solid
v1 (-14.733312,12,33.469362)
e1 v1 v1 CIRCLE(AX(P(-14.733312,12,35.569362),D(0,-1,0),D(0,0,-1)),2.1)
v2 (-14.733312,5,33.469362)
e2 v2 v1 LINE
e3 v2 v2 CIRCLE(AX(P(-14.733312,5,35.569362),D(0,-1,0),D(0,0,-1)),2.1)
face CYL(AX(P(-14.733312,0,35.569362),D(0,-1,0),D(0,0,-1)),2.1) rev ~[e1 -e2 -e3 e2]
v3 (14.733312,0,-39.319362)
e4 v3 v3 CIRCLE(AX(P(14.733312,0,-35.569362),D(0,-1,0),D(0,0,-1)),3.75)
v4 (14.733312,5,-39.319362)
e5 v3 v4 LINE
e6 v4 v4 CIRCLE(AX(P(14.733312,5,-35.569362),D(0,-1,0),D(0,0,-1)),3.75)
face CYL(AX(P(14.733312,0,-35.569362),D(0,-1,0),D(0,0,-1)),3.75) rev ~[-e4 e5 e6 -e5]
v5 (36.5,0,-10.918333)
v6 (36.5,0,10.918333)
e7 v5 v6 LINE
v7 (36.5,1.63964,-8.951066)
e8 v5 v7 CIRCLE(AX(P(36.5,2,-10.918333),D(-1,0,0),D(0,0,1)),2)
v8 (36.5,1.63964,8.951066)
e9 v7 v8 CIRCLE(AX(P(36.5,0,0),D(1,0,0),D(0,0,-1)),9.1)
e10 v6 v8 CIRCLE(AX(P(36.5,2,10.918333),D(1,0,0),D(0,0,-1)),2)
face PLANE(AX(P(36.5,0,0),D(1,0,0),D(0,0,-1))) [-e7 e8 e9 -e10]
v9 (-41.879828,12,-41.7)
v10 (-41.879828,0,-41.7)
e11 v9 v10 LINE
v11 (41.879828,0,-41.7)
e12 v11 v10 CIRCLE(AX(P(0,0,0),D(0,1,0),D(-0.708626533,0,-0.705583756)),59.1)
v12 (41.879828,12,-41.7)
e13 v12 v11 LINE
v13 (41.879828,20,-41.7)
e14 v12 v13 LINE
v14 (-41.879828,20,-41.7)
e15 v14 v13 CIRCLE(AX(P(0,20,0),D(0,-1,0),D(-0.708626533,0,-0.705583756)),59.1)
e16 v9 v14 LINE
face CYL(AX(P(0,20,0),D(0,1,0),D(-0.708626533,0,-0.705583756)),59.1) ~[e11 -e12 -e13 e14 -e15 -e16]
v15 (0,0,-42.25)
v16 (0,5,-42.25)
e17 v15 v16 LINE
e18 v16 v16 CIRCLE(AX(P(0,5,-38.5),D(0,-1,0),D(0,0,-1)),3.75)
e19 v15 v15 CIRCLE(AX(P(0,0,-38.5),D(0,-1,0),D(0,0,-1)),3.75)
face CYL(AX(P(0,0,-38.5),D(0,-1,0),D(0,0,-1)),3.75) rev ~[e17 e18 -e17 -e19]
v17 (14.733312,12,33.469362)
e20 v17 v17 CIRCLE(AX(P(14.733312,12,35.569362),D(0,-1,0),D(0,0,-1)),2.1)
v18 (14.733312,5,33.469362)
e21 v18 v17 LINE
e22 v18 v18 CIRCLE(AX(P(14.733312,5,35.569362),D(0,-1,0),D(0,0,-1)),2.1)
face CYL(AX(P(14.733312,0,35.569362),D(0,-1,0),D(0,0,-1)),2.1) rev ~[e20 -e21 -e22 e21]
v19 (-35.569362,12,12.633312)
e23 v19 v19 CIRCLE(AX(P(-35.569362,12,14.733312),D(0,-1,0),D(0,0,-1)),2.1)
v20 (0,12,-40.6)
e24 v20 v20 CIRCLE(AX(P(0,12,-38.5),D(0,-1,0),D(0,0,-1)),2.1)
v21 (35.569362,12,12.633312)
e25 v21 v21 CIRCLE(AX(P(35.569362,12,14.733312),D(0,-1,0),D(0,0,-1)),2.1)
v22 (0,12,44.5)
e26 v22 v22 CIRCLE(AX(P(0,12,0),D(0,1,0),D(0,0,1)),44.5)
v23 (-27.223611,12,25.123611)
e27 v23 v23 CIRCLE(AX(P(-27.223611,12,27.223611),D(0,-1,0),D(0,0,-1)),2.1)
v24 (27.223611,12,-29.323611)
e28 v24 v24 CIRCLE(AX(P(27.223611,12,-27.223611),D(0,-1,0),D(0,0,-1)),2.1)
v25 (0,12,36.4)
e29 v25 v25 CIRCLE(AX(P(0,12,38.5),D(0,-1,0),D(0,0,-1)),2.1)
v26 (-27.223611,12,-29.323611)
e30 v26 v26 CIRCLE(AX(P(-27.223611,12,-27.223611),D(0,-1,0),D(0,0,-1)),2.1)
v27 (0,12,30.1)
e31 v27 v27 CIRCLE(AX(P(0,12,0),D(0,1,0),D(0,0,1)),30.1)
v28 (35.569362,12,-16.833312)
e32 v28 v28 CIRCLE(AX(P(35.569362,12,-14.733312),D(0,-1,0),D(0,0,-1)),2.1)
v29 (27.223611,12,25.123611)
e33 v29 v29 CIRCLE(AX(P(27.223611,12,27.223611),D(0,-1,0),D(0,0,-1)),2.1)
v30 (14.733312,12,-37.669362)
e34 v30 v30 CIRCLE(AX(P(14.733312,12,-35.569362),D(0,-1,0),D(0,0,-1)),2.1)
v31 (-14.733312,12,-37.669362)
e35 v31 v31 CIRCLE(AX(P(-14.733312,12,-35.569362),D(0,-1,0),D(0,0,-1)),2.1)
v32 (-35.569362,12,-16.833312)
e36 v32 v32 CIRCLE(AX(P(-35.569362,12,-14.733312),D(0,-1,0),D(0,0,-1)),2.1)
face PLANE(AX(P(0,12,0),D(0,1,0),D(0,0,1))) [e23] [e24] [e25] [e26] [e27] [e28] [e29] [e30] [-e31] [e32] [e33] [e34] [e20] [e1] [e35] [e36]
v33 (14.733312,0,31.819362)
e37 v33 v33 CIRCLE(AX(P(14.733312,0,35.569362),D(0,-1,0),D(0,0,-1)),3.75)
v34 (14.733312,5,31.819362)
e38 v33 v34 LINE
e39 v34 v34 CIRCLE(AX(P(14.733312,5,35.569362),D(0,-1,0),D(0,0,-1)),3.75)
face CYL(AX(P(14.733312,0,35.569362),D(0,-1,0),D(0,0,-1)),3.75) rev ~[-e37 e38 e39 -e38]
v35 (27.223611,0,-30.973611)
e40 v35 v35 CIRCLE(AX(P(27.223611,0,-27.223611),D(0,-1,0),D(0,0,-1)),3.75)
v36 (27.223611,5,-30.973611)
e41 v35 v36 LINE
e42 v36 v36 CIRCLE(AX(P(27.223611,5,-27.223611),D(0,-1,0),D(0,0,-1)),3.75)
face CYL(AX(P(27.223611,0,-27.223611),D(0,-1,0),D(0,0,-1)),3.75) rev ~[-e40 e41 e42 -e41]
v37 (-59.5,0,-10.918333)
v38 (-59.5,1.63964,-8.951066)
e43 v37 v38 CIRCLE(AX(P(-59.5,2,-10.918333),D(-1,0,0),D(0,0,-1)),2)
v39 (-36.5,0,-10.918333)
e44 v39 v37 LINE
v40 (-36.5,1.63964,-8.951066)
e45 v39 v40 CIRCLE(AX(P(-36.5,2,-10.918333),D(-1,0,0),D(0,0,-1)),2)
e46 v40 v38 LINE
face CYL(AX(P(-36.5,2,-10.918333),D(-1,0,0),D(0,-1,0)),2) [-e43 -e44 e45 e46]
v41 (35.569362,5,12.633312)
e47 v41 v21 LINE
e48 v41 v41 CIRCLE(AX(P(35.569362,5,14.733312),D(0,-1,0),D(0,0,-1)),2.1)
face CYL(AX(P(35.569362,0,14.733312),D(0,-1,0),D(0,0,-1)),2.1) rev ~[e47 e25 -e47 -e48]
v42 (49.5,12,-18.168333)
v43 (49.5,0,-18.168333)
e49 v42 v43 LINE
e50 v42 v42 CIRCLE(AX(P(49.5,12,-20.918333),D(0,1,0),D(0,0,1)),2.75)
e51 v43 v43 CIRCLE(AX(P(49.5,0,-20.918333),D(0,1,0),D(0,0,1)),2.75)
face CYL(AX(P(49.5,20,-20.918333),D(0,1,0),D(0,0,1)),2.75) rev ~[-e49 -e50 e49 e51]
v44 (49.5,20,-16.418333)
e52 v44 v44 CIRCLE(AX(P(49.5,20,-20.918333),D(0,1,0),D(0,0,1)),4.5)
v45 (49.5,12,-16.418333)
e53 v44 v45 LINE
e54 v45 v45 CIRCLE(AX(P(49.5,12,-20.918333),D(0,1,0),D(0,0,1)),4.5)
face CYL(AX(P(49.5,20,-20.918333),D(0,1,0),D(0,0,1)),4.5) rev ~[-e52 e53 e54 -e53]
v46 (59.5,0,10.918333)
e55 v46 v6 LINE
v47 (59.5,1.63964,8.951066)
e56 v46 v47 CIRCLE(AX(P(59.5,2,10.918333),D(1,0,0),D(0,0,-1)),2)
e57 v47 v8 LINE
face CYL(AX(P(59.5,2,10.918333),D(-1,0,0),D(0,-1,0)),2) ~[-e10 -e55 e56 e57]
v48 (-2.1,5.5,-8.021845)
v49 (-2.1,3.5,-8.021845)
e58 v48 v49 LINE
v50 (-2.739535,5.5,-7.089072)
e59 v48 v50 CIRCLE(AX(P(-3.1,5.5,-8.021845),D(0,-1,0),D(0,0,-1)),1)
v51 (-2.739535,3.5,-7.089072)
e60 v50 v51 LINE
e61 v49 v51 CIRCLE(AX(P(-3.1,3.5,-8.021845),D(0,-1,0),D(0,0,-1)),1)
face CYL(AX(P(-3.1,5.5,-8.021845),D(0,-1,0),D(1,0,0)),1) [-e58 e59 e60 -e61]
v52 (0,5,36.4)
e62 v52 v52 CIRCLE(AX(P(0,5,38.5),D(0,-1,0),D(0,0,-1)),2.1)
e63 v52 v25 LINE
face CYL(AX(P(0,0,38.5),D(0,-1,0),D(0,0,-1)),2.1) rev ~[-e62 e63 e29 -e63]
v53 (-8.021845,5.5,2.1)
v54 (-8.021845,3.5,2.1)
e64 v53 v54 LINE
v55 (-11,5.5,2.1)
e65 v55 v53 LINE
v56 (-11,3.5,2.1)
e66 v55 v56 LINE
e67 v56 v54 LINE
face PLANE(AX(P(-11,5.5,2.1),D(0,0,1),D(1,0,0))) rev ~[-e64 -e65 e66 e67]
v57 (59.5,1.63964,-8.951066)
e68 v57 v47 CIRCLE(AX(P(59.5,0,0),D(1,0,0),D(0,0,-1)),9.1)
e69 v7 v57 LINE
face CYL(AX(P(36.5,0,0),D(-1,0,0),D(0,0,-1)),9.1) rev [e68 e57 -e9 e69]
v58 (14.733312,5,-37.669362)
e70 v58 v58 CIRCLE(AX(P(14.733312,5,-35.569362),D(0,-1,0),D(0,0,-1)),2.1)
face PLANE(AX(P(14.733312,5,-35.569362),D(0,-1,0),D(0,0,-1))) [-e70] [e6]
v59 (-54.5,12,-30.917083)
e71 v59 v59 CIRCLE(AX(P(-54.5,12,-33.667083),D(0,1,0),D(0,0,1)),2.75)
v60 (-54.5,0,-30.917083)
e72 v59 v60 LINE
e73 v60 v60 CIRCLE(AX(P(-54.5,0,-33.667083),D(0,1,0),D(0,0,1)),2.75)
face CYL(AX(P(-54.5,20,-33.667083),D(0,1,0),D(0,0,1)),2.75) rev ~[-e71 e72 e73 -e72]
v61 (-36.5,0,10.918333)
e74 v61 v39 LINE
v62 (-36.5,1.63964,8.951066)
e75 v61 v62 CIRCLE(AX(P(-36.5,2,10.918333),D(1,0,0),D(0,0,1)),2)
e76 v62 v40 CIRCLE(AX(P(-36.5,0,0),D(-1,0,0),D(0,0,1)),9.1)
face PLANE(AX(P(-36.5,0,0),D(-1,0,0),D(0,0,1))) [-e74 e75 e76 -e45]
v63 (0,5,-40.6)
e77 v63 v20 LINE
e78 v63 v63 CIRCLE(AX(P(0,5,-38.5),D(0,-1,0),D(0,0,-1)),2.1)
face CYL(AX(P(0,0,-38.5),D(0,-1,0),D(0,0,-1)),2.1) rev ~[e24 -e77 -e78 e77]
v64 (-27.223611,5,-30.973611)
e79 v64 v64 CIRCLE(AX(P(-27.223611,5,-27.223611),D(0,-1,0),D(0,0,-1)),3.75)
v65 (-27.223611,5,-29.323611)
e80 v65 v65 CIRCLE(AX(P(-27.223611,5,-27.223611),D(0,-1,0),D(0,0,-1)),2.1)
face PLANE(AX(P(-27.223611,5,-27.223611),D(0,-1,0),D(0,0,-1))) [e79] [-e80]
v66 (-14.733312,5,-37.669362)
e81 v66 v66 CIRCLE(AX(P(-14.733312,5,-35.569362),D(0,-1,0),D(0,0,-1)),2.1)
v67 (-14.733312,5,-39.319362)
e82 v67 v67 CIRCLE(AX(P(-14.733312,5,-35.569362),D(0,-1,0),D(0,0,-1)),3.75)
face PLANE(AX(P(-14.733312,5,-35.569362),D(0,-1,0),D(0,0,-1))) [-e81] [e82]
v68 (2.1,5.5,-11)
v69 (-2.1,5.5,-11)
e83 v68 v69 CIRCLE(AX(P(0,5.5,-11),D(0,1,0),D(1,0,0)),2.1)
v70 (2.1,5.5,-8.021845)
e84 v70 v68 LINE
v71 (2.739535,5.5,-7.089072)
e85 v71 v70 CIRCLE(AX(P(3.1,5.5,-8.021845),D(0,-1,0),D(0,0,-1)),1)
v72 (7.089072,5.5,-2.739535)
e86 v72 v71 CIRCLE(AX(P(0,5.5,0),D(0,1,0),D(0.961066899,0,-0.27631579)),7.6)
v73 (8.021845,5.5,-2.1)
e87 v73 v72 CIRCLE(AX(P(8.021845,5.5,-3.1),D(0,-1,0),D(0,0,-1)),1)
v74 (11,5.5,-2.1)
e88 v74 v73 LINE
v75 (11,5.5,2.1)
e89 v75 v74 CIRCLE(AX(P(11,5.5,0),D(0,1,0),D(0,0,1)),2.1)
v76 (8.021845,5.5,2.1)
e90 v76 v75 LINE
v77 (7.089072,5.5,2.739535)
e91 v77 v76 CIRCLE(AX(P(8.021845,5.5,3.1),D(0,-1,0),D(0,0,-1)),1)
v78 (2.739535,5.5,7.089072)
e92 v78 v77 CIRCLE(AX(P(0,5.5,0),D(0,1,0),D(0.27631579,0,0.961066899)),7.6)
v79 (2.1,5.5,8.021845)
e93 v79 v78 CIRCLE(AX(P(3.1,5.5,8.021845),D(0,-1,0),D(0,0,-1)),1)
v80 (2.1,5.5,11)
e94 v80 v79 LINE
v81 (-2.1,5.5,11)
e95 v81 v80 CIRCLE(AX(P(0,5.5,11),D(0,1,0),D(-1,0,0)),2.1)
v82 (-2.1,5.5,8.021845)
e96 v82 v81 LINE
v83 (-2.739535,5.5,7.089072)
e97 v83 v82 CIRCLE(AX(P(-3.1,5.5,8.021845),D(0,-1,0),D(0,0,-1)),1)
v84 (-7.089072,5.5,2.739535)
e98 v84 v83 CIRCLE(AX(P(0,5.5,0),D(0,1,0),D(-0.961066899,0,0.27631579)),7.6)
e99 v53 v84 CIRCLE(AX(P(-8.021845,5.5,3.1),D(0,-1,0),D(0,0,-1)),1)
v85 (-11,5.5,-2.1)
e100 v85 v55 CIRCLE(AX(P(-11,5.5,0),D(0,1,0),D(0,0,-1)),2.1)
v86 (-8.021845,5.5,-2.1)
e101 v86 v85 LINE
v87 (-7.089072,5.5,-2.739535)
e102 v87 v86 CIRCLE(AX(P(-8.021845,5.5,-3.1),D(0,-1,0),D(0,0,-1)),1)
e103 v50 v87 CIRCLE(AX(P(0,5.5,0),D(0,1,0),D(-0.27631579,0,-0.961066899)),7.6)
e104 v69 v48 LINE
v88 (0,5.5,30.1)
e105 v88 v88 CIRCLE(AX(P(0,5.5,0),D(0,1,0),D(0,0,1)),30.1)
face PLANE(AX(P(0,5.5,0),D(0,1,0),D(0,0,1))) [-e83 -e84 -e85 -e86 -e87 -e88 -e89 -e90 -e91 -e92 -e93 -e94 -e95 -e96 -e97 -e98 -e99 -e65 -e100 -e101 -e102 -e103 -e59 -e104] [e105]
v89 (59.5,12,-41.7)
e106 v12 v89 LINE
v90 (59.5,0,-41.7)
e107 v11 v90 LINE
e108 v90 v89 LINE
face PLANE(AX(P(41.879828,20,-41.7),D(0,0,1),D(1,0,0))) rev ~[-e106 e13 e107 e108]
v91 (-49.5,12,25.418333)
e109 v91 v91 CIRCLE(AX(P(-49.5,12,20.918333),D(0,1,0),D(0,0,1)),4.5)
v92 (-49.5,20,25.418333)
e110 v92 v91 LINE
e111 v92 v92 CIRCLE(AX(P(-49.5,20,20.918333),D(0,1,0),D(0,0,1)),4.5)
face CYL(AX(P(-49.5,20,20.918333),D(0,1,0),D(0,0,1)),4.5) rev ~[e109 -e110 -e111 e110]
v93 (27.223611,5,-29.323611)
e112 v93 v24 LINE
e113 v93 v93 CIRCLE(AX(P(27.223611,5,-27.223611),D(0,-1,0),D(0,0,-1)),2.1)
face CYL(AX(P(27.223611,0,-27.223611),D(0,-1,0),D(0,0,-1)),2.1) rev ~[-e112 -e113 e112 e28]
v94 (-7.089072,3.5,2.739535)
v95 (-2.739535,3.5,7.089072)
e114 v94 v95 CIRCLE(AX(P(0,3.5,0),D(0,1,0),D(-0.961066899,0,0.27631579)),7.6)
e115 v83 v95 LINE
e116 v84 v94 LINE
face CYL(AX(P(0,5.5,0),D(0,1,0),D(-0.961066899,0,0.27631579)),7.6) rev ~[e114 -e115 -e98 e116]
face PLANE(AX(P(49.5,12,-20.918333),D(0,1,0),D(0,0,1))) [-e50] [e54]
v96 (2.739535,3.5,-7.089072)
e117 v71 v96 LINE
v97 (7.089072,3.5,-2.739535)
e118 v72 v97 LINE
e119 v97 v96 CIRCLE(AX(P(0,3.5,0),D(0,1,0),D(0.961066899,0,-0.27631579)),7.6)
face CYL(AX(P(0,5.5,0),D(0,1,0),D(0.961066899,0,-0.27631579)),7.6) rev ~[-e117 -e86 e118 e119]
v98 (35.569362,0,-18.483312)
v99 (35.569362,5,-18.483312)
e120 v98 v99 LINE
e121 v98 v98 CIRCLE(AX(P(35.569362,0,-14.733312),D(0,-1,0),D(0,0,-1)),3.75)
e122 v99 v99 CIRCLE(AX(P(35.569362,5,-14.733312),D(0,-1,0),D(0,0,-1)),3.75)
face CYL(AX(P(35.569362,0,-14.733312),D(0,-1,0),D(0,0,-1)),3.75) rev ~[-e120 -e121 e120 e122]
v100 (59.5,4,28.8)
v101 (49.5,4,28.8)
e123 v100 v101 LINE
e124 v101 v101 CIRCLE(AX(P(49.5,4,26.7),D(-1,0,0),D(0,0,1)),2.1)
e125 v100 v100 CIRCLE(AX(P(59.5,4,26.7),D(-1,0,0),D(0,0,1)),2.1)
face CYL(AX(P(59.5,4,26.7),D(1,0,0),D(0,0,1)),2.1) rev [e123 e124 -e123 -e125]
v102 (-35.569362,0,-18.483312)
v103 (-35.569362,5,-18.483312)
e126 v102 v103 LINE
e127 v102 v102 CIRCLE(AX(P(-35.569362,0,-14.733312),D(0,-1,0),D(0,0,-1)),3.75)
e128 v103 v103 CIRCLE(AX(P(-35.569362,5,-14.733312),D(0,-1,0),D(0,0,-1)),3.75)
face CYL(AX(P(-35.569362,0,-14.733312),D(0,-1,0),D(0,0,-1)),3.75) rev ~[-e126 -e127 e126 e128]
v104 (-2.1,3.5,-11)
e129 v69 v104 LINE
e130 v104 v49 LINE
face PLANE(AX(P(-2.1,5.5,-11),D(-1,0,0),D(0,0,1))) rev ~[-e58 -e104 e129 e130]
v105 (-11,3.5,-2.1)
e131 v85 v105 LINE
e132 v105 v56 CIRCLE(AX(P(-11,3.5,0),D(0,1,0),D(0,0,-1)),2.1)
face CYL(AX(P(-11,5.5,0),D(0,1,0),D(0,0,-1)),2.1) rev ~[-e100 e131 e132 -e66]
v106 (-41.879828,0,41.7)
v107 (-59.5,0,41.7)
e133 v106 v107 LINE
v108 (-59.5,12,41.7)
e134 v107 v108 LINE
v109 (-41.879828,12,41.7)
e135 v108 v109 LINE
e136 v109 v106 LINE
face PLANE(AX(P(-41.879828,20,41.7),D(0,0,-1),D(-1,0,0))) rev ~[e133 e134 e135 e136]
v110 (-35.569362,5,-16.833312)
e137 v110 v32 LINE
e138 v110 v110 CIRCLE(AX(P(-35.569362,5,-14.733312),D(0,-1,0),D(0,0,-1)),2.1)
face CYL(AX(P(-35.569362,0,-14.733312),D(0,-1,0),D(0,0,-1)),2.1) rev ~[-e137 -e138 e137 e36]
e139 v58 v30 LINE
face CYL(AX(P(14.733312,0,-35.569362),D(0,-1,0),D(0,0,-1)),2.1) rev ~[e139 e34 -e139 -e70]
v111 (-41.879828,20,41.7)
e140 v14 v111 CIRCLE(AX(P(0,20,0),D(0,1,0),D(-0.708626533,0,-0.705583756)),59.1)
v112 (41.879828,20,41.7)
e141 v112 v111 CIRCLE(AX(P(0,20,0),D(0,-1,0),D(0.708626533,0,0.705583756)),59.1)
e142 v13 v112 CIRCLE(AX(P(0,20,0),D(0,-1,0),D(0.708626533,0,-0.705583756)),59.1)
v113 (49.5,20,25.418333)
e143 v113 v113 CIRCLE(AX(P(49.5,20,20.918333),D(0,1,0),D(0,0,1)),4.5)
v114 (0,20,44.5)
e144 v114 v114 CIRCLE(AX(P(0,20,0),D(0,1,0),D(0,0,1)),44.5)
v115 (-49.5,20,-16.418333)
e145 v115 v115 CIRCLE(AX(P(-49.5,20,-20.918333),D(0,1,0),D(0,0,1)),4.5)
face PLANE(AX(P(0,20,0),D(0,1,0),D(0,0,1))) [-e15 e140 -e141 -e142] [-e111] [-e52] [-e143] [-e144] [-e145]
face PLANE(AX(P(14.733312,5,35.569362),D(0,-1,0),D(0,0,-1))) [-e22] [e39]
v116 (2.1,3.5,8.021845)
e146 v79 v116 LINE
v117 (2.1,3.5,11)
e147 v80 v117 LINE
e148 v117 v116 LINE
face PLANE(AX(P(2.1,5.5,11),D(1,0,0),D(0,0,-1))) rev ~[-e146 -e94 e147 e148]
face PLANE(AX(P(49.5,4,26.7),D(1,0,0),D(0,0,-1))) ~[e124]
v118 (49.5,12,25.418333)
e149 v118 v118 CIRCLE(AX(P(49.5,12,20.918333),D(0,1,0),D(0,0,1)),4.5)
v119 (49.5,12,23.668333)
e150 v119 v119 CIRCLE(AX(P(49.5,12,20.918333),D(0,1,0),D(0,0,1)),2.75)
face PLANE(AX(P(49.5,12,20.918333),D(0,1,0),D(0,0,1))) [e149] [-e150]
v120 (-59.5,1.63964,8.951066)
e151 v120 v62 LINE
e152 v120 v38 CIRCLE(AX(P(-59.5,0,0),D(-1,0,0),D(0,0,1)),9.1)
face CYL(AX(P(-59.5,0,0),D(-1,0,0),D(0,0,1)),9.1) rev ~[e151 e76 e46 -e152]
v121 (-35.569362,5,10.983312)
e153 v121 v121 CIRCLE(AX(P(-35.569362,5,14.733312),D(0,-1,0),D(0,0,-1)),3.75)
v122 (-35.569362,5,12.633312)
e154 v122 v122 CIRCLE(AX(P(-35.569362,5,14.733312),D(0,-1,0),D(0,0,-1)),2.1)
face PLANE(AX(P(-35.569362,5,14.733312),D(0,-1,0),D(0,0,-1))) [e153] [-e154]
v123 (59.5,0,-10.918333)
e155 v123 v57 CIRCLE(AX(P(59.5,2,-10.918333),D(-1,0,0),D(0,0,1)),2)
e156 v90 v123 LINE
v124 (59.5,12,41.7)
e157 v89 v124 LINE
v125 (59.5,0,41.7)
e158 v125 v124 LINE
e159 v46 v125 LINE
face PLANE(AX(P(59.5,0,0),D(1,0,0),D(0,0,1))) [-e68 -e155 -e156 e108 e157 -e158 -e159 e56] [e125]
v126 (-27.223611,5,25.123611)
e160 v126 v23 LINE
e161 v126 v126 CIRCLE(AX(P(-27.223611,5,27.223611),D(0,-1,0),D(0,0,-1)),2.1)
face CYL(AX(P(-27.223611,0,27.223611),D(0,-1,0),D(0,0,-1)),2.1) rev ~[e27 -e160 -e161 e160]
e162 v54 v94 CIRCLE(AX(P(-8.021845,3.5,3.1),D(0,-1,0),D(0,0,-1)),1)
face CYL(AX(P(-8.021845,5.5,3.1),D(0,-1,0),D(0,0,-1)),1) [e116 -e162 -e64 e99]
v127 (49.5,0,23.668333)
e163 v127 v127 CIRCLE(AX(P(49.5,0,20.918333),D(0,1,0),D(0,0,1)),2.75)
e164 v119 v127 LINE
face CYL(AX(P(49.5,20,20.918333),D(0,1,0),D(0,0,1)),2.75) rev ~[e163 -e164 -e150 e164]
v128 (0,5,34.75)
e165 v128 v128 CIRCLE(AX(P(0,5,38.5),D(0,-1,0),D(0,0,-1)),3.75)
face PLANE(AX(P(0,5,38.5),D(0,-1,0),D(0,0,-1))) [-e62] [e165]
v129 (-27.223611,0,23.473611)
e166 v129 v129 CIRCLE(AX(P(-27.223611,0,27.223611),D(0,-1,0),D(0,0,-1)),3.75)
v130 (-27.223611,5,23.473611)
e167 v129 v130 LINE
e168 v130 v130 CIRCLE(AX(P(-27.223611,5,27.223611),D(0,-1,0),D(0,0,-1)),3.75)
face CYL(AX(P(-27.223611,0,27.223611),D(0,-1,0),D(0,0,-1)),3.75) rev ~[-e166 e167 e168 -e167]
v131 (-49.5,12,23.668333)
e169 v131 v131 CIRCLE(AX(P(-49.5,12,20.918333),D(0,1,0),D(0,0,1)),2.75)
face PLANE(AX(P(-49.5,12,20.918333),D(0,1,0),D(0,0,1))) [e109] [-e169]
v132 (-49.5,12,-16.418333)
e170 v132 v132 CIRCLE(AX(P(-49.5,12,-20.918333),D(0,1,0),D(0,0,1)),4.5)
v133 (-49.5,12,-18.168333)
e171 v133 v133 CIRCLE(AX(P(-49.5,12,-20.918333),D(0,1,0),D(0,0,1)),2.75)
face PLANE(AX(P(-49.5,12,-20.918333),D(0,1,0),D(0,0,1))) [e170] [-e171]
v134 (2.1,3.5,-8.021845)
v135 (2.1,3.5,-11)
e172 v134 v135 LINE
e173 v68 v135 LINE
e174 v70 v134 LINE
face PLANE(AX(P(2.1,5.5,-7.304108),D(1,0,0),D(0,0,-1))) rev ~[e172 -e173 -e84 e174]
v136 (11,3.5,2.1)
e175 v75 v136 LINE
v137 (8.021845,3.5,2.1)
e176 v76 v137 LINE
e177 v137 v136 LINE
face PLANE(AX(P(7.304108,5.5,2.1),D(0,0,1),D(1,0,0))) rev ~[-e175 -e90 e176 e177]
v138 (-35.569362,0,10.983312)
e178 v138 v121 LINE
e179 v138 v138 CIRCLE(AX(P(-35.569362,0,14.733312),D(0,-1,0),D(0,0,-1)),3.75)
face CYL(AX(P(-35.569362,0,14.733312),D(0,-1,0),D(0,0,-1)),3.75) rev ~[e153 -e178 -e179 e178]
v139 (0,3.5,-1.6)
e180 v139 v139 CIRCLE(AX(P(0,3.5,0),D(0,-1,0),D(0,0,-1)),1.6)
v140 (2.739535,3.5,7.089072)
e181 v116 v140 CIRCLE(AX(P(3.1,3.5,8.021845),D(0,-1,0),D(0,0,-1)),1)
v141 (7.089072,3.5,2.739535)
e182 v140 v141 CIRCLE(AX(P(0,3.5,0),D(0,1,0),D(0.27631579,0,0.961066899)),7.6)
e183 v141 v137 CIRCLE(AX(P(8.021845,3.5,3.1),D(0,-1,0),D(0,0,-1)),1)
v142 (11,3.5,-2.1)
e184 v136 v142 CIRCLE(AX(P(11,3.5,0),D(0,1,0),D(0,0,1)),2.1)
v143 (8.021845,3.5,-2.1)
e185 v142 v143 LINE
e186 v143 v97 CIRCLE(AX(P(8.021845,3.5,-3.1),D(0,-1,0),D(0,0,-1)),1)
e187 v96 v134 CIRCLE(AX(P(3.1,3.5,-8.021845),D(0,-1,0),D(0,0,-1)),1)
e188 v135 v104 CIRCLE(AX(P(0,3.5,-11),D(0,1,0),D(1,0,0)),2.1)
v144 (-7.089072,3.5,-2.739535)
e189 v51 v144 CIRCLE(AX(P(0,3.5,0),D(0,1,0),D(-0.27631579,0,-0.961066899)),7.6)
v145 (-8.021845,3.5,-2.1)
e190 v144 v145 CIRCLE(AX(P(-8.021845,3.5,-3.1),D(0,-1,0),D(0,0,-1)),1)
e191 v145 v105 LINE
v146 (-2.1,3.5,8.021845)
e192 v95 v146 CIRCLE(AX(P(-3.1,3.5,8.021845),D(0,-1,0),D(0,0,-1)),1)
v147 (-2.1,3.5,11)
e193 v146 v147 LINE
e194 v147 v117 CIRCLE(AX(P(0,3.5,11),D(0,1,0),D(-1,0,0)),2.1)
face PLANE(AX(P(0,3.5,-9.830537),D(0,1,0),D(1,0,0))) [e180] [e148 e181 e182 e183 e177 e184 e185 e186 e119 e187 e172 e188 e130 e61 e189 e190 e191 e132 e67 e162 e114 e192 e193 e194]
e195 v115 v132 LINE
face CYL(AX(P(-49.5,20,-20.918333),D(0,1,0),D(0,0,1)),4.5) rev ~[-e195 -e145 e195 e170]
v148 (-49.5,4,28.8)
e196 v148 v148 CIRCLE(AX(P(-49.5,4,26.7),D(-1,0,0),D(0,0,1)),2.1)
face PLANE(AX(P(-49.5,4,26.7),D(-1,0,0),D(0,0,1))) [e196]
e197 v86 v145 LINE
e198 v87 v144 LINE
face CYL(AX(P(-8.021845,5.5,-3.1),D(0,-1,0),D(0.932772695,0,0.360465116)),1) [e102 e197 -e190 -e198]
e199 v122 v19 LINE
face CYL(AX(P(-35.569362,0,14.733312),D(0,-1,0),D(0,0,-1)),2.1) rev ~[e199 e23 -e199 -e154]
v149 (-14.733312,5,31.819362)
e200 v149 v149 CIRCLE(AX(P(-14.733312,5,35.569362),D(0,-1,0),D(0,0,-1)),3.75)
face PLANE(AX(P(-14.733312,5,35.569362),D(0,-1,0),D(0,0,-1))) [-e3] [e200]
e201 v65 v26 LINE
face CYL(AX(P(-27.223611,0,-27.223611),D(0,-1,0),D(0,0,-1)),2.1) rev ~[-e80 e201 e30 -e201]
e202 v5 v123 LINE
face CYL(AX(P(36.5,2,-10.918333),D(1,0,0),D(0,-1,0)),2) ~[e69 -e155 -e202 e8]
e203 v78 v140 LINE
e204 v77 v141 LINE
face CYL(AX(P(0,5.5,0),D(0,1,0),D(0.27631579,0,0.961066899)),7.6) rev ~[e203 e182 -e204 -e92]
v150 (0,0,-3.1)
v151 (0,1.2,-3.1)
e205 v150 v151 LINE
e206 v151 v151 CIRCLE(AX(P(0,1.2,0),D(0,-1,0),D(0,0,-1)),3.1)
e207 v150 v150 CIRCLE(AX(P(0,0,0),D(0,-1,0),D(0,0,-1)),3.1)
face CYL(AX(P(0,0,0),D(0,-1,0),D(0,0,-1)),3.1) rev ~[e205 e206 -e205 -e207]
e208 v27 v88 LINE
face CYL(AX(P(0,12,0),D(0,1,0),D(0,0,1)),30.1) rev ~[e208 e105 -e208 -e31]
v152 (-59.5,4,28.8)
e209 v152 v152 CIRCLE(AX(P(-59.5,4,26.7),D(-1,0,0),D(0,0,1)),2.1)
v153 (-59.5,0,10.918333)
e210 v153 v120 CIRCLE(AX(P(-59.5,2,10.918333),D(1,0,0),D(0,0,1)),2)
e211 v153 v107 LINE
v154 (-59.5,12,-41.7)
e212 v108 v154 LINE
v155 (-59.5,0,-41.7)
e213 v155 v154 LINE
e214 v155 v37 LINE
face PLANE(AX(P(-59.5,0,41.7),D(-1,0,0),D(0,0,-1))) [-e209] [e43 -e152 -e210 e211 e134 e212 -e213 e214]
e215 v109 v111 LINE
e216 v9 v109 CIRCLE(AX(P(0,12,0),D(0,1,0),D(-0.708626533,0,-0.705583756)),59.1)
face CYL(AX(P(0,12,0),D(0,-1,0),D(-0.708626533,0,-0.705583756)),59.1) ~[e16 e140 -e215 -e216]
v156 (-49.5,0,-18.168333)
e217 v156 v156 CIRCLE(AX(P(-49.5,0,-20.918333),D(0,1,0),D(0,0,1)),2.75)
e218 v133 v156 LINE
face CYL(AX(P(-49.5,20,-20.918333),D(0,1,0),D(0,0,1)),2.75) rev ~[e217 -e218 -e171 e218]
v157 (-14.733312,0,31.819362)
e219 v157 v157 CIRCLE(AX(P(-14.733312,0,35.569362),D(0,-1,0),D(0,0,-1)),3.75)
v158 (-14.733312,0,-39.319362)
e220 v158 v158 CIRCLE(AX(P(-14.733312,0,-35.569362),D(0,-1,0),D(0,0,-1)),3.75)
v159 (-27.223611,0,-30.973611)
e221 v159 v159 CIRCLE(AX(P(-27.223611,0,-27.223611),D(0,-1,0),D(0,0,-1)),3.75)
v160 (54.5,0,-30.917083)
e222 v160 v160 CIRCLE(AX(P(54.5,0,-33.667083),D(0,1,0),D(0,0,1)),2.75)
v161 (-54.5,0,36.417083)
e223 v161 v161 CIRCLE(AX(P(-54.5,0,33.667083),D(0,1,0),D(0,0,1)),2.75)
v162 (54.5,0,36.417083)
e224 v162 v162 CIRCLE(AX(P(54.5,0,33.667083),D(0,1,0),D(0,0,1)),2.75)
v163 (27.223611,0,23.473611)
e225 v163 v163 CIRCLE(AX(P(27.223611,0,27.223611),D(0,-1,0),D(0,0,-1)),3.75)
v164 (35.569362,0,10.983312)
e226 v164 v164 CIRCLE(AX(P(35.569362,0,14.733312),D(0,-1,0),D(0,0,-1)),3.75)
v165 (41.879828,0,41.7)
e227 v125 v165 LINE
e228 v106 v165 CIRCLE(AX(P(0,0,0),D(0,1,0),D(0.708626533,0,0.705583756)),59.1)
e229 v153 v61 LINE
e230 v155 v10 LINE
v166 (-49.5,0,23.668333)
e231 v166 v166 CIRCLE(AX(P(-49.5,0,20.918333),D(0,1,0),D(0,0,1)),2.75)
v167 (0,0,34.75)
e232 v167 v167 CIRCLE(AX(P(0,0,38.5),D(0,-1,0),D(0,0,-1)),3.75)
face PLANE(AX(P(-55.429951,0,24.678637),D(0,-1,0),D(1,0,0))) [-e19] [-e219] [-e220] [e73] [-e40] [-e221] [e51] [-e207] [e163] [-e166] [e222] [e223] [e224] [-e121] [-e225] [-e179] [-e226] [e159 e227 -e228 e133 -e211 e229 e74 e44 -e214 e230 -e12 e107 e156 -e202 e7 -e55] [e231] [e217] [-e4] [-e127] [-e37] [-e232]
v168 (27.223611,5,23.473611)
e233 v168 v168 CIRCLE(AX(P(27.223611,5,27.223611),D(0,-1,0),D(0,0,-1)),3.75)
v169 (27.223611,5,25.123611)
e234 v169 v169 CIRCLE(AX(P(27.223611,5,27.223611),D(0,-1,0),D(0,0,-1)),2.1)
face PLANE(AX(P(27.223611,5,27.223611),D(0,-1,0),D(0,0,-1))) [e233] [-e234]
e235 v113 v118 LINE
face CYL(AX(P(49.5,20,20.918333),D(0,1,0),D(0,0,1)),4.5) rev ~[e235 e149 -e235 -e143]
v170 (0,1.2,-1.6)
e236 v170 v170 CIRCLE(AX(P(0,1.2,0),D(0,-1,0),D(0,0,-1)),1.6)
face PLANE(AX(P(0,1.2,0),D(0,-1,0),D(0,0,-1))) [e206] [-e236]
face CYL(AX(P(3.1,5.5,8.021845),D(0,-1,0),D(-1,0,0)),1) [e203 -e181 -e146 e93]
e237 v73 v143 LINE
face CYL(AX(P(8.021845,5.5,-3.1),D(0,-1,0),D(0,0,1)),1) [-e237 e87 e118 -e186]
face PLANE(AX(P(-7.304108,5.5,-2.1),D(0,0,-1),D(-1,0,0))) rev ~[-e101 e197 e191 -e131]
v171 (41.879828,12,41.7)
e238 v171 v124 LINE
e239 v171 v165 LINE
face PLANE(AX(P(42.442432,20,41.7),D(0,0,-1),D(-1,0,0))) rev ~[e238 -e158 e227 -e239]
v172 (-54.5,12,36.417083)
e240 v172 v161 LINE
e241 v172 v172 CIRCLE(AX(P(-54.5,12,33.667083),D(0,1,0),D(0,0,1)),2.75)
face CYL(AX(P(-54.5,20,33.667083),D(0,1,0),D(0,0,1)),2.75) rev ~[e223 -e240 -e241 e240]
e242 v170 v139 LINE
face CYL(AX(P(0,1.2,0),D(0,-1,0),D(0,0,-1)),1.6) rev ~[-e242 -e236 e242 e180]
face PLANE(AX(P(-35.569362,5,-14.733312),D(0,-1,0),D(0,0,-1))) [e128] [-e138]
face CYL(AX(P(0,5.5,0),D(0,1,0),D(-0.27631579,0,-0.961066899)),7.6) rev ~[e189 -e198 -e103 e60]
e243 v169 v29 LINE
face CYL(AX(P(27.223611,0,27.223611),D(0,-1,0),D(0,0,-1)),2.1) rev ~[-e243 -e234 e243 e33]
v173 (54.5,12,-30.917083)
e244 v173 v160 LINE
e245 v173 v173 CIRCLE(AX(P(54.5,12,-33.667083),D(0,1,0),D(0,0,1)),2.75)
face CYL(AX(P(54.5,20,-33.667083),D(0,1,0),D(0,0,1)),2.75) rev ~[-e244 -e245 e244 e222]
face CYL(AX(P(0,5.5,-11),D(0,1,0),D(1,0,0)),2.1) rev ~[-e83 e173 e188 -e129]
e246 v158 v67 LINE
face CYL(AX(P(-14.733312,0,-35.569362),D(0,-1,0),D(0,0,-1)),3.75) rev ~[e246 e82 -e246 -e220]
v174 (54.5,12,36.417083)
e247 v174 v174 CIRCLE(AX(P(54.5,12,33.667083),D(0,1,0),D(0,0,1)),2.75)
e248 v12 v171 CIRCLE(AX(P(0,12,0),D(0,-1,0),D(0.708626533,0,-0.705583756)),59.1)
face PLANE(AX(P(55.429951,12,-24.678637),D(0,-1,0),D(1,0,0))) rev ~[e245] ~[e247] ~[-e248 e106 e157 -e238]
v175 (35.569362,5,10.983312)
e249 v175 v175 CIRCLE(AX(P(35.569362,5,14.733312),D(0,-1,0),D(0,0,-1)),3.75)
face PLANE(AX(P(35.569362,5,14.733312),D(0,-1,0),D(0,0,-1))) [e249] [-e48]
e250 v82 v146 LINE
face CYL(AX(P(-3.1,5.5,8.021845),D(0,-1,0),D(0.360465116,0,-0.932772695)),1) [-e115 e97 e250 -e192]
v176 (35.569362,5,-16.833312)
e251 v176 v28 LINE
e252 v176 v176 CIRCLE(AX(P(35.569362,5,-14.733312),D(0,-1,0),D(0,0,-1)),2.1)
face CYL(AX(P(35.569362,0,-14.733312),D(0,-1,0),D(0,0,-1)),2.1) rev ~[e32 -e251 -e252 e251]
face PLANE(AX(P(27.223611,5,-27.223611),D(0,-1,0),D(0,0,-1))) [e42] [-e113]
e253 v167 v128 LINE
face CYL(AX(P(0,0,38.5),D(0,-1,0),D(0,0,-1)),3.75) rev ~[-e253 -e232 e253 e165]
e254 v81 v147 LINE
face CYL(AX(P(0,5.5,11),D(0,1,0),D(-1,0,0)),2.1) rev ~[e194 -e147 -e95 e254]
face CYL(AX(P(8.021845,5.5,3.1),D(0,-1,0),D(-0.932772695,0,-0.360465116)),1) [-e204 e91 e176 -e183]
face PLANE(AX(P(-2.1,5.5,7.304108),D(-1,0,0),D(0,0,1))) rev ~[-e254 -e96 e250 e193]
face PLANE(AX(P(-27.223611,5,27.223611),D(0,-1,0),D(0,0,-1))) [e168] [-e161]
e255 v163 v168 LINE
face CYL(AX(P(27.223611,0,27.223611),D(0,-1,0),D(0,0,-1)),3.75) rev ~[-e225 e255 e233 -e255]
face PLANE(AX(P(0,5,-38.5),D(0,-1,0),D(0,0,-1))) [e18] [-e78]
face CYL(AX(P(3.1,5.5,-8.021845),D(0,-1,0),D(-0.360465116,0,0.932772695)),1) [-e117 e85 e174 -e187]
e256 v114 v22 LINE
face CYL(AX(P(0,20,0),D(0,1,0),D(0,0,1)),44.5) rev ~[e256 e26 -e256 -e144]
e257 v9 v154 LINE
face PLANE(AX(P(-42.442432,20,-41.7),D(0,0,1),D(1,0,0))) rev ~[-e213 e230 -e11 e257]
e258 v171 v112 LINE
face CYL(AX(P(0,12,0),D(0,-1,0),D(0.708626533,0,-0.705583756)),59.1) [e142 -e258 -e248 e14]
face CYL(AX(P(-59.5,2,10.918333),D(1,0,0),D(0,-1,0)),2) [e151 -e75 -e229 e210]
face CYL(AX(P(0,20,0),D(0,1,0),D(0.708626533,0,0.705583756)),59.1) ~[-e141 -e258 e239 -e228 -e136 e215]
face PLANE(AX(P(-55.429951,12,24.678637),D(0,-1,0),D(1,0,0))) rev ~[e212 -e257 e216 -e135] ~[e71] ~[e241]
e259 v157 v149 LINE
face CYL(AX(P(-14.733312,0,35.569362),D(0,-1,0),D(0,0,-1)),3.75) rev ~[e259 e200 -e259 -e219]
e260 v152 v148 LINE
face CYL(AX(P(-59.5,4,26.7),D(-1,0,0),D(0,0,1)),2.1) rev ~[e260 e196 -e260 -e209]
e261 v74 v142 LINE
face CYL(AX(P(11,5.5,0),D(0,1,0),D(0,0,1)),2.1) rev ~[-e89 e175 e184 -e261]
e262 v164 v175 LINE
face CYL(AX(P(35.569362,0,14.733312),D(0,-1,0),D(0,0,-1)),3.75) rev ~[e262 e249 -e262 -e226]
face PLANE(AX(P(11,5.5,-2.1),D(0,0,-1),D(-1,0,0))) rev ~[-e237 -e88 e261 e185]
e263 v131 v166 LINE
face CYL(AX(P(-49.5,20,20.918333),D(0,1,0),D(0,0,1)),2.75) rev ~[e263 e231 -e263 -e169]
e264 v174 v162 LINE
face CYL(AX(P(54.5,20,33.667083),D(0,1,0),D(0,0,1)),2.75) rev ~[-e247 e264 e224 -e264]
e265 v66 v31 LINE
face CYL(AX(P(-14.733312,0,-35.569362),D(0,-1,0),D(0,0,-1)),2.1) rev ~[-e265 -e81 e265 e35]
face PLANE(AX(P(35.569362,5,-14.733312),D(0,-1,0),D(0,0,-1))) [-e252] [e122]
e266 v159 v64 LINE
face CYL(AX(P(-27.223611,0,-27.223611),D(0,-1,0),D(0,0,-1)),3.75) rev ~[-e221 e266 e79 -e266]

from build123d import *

# Parameters (mm, degrees)
SKETCH_1_R           = 59.5
EXTRUDE_1_DEPTH      = 20
SKETCH_2_R           = 44.5
CUT_EXTRUDE_1_DEPTH  = 8
SKETCH_3_R           = 30.1
CUT_EXTRUDE_2_DEPTH  = 6.5
SKETCH_4_R           = 2.1
CUT_EXTRUDE_3_DEPTH  = 87.489883802
SKETCH_5_R           = 3.75
CUT_EXTRUDE_4_DEPTH  = 5
SKETCH_26_R          = 3.1
CUT_EXTRUDE_14_DEPTH = 1.2
EXTRUDE_2_DEPTH      = 12
SKETCH_28_R          = 9.1
CUT_EXTRUDE_15_DEPTH = 23
FILLET_2_R           = 2
CUT_EXTRUDE_START    = -23
SKETCH_29_R          = 9.1
CUT_EXTRUDE_16_DEPTH = 23
FILLET_3_R           = 2
CUT_EXTRUDE_18_REACH = 88.49
SKETCH_31_R          = 2.75
SKETCH_32_R          = 2.1
CUT_EXTRUDE_19_DEPTH = 10
SKETCH_33_R          = 4.5
CUT_EXTRUDE_20_DEPTH = 8
CUT_EXTRUDE_START_2  = -8
CUT_EXTRUDE_22_DEPTH = 8
CUT_EXTRUDE_23_DEPTH = 2
FILLET_4_R           = 1
SKETCH_38_R          = 1.6
CUT_EXTRUDE_24_DEPTH = 87.220299234
CUT_EXTRUDE_25_DEPTH = 87.489883802


with BuildPart() as part:
    # 草图1 → 凸台-拉伸1 (new body)
    with BuildSketch(Plane(origin=(0, 0, 0), x_dir=(1, 0, 0), z_dir=(0, 1, 0))):
        with Locations(Location((0, 0, 0), (0, 0, 270))):
            Circle(SKETCH_1_R)
    extrude(amount=EXTRUDE_1_DEPTH)

    # 草图2 → 切除-拉伸1 (cut)
    with BuildSketch(Plane(origin=(0, 20, 0), x_dir=(1, 0, 0), z_dir=(0, 1, 0))):
        with Locations(Location((0, 0, 0), (0, 0, 270))):
            Circle(SKETCH_2_R)
    extrude(amount=-CUT_EXTRUDE_1_DEPTH, mode=Mode.SUBTRACT)

    # 草图3 → 切除-拉伸2 (cut)
    with BuildSketch(Plane(origin=(0, 12, 0), x_dir=(1, 0, 0), z_dir=(0, 1, 0))):
        with Locations(Location((0, 0, 0), (0, 0, 270))):
            Circle(SKETCH_3_R)
    extrude(amount=-CUT_EXTRUDE_2_DEPTH, mode=Mode.SUBTRACT)

    # 草图4 → 切除-拉伸3 (cut, through all)
    with BuildSketch(Plane.XZ):
        with Locations(Location((0, 38.5, 0), (0, 0, 270))):
            Circle(SKETCH_4_R)
        with Locations(Location((14.733312146, 35.569362002, 0), (0, 0, 270))):
            Circle(SKETCH_4_R)
        with Locations(Location((27.223611076, 27.223611076, 0), (0, 0, 270))):
            Circle(SKETCH_4_R)
        with Locations(Location((35.569362002, 14.733312146, 0), (0, 0, 270))):
            Circle(SKETCH_4_R)
        with Locations(Location((35.569362002, -14.733312146, 0), (0, 0, 270))):
            Circle(SKETCH_4_R)
        with Locations(Location((27.223611076, -27.223611076, 0), (0, 0, 270))):
            Circle(SKETCH_4_R)
        with Locations(Location((14.733312146, -35.569362002, 0), (0, 0, 270))):
            Circle(SKETCH_4_R)
        with Locations(Location((0, -38.5, 0), (0, 0, 270))):
            Circle(SKETCH_4_R)
        with Locations(Location((-14.733312146, -35.569362002, 0), (0, 0, 270))):
            Circle(SKETCH_4_R)
        with Locations(Location((-27.223611076, -27.223611076, 0), (0, 0, 270))):
            Circle(SKETCH_4_R)
        with Locations(Location((-35.569362002, -14.733312146, 0), (0, 0, 270))):
            Circle(SKETCH_4_R)
        with Locations(Location((-35.569362002, 14.733312146, 0), (0, 0, 270))):
            Circle(SKETCH_4_R)
        with Locations(Location((-27.223611076, 27.223611076, 0), (0, 0, 270))):
            Circle(SKETCH_4_R)
        with Locations(Location((-14.733312146, 35.569362002, 0), (0, 0, 270))):
            Circle(SKETCH_4_R)
    extrude(amount=-CUT_EXTRUDE_3_DEPTH, mode=Mode.SUBTRACT)

    # 草图5 → 切除-拉伸4 (cut)
    with BuildSketch(Plane.XZ):
        with Locations(Location((0, 38.5, 0), (0, 0, 270))):
            Circle(SKETCH_5_R)
        with Locations(Location((14.733312146, 35.569362002, 0), (0, 0, 270))):
            Circle(SKETCH_5_R)
        with Locations(Location((27.223611076, 27.223611076, 0), (0, 0, 270))):
            Circle(SKETCH_5_R)
        with Locations(Location((35.569362002, 14.733312146, 0), (0, 0, 270))):
            Circle(SKETCH_5_R)
        with Locations(Location((35.569362002, -14.733312146, 0), (0, 0, 270))):
            Circle(SKETCH_5_R)
        with Locations(Location((27.223611076, -27.223611076, 0), (0, 0, 270))):
            Circle(SKETCH_5_R)
        with Locations(Location((14.733312146, -35.569362002, 0), (0, 0, 270))):
            Circle(SKETCH_5_R)
        with Locations(Location((0, -38.5, 0), (0, 0, 270))):
            Circle(SKETCH_5_R)
        with Locations(Location((-14.733312146, -35.569362002, 0), (0, 0, 270))):
            Circle(SKETCH_5_R)
        with Locations(Location((-27.223611076, -27.223611076, 0), (0, 0, 270))):
            Circle(SKETCH_5_R)
        with Locations(Location((-35.569362002, -14.733312146, 0), (0, 0, 270))):
            Circle(SKETCH_5_R)
        with Locations(Location((-35.569362002, 14.733312146, 0), (0, 0, 270))):
            Circle(SKETCH_5_R)
        with Locations(Location((-27.223611076, 27.223611076, 0), (0, 0, 270))):
            Circle(SKETCH_5_R)
        with Locations(Location((-14.733312146, 35.569362002, 0), (0, 0, 270))):
            Circle(SKETCH_5_R)
    extrude(amount=-CUT_EXTRUDE_4_DEPTH, mode=Mode.SUBTRACT)

    # 草图26 → 切除-拉伸14 (cut)
    with BuildSketch(Plane.XZ):
        with Locations(Location((0, 0, 0), (0, 0, 270))):
            Circle(SKETCH_26_R)
    extrude(amount=-CUT_EXTRUDE_14_DEPTH, mode=Mode.SUBTRACT)

    # 草图27 → 凸台-拉伸2 (add)
    with BuildSketch(Plane.XZ):
        with BuildLine():
            Line((-59.5, 41.7), (-59.5, 0))
            ThreePointArc((-59.5, 0), (-55.070748497, 22.52693188), (-42.442431599, 41.7))
            Line((-42.442431599, 41.7), (-59.5, 41.7))
        make_face()
        with BuildLine():
            Line((-59.5, 0), (-59.5, -41.7))
            Line((-59.5, -41.7), (-42.442431599, -41.7))
            ThreePointArc((-42.442431599, -41.7), (-55.070748497, -22.52693188), (-59.5, 0))
        make_face()
        with BuildLine():
            ThreePointArc((42.442431599, 41.7), (55.070748497, 22.52693188), (59.5, 0))
            Line((59.5, 0), (59.5, 41.7))
            Line((59.5, 41.7), (42.442431599, 41.7))
        make_face()
        with BuildLine():
            Line((42.442431599, -41.7), (59.5, -41.7))
            Line((59.5, -41.7), (59.5, 0))
            ThreePointArc((59.5, 0), (55.070748497, -22.52693188), (42.442431599, -41.7))
        make_face()
    extrude(amount=-EXTRUDE_2_DEPTH)

    # 草图28 → 切除-拉伸15 (cut)
    with BuildSketch(Plane.ZY.offset(59.5)):
        Circle(SKETCH_28_R)
    extrude(amount=-CUT_EXTRUDE_15_DEPTH, mode=Mode.SUBTRACT)

    # 圆角2
    fillet_2_edges = [part.edges().sort_by_distance(p)[0] for p in [
        (-48, 0, -9.1),
        (-48, 0, 9.1),
    ]]
    fillet(fillet_2_edges, radius=FILLET_2_R)

    # 草图29 → 切除-拉伸16 (cut)
    with BuildSketch(Plane(origin=(59.5, 0, 0), x_dir=(0, 0, -1), z_dir=(1, 0, 0)).offset(CUT_EXTRUDE_START)):
        Circle(SKETCH_29_R)
    extrude(amount=CUT_EXTRUDE_16_DEPTH, mode=Mode.SUBTRACT)

    # 圆角3
    fillet_3_edges = [part.edges().sort_by_distance(p)[0] for p in [
        (48, 0, 9.1),
        (48, 0, -9.1),
    ]]
    fillet(fillet_3_edges, radius=FILLET_3_R)

    # 草图31 → 切除-拉伸18 (cut, up to next)
    with BuildSketch(Plane(origin=(0, 20, 0), x_dir=(1, 0, 0), z_dir=(0, 1, 0)), mode=Mode.PRIVATE) as cut_extrude_18_sk1:
        with Locations(Location((54.5, 33.667083302, 0), (0, 0, 270))):
            Circle(SKETCH_31_R)
    cut_extrude_18_tool1 = extrude(cut_extrude_18_sk1.sketch, amount=-CUT_EXTRUDE_18_REACH, mode=Mode.PRIVATE) & part.part
    # 草图31 → 切除-拉伸18 (cut, up to next)
    with BuildSketch(Plane(origin=(0, 20, 0), x_dir=(1, 0, 0), z_dir=(0, 1, 0)), mode=Mode.PRIVATE) as cut_extrude_18_sk2:
        with Locations(Location((49.5, 20.918333206, 0), (0, 0, 270))):
            Circle(SKETCH_31_R)
    cut_extrude_18_tool2 = extrude(cut_extrude_18_sk2.sketch, amount=-CUT_EXTRUDE_18_REACH, mode=Mode.PRIVATE) & part.part
    # 草图31 → 切除-拉伸18 (cut, up to next)
    with BuildSketch(Plane(origin=(0, 20, 0), x_dir=(1, 0, 0), z_dir=(0, 1, 0)), mode=Mode.PRIVATE) as cut_extrude_18_sk3:
        with Locations(Location((49.5, -20.918333206, 0), (0, 0, 270))):
            Circle(SKETCH_31_R)
    cut_extrude_18_tool3 = extrude(cut_extrude_18_sk3.sketch, amount=-CUT_EXTRUDE_18_REACH, mode=Mode.PRIVATE) & part.part
    # 草图31 → 切除-拉伸18 (cut, up to next)
    with BuildSketch(Plane(origin=(0, 20, 0), x_dir=(1, 0, 0), z_dir=(0, 1, 0)), mode=Mode.PRIVATE) as cut_extrude_18_sk4:
        with Locations(Location((54.5, -33.667083302, 0), (0, 0, 270))):
            Circle(SKETCH_31_R)
    cut_extrude_18_tool4 = extrude(cut_extrude_18_sk4.sketch, amount=-CUT_EXTRUDE_18_REACH, mode=Mode.PRIVATE) & part.part
    # 草图31 → 切除-拉伸18 (cut, up to next)
    with BuildSketch(Plane(origin=(0, 20, 0), x_dir=(1, 0, 0), z_dir=(0, 1, 0)), mode=Mode.PRIVATE) as cut_extrude_18_sk5:
        with Locations(Location((-54.5, -33.667083302, 0), (0, 0, 270))):
            Circle(SKETCH_31_R)
    cut_extrude_18_tool5 = extrude(cut_extrude_18_sk5.sketch, amount=-CUT_EXTRUDE_18_REACH, mode=Mode.PRIVATE) & part.part
    # 草图31 → 切除-拉伸18 (cut, up to next)
    with BuildSketch(Plane(origin=(0, 20, 0), x_dir=(1, 0, 0), z_dir=(0, 1, 0)), mode=Mode.PRIVATE) as cut_extrude_18_sk6:
        with Locations(Location((-49.5, -20.918333206, 0), (0, 0, 270))):
            Circle(SKETCH_31_R)
    cut_extrude_18_tool6 = extrude(cut_extrude_18_sk6.sketch, amount=-CUT_EXTRUDE_18_REACH, mode=Mode.PRIVATE) & part.part
    # 草图31 → 切除-拉伸18 (cut, up to next)
    with BuildSketch(Plane(origin=(0, 20, 0), x_dir=(1, 0, 0), z_dir=(0, 1, 0)), mode=Mode.PRIVATE) as cut_extrude_18_sk7:
        with Locations(Location((-49.5, 20.918333206, 0), (0, 0, 270))):
            Circle(SKETCH_31_R)
    cut_extrude_18_tool7 = extrude(cut_extrude_18_sk7.sketch, amount=-CUT_EXTRUDE_18_REACH, mode=Mode.PRIVATE) & part.part
    # 草图31 → 切除-拉伸18 (cut, up to next)
    with BuildSketch(Plane(origin=(0, 20, 0), x_dir=(1, 0, 0), z_dir=(0, 1, 0)), mode=Mode.PRIVATE) as cut_extrude_18_sk8:
        with Locations(Location((-54.5, 33.667083302, 0), (0, 0, 270))):
            Circle(SKETCH_31_R)
    cut_extrude_18_tool8 = extrude(cut_extrude_18_sk8.sketch, amount=-CUT_EXTRUDE_18_REACH, mode=Mode.PRIVATE) & part.part
    add(cut_extrude_18_tool1.solids().sort_by_distance((54.5, 20, -33.667083))[0], mode=Mode.SUBTRACT)
    add(cut_extrude_18_tool2.solids().sort_by_distance((49.5, 20, -20.918333))[0], mode=Mode.SUBTRACT)
    add(cut_extrude_18_tool3.solids().sort_by_distance((49.5, 20, 20.918333))[0], mode=Mode.SUBTRACT)
    add(cut_extrude_18_tool4.solids().sort_by_distance((54.5, 20, 33.667083))[0], mode=Mode.SUBTRACT)
    add(cut_extrude_18_tool5.solids().sort_by_distance((-54.5, 20, 33.667083))[0], mode=Mode.SUBTRACT)
    add(cut_extrude_18_tool6.solids().sort_by_distance((-49.5, 20, 20.918333))[0], mode=Mode.SUBTRACT)
    add(cut_extrude_18_tool7.solids().sort_by_distance((-49.5, 20, -20.918333))[0], mode=Mode.SUBTRACT)
    add(cut_extrude_18_tool8.solids().sort_by_distance((-54.5, 20, -33.667083))[0], mode=Mode.SUBTRACT)

    # 草图32 → 切除-拉伸19 (cut)
    with BuildSketch(Plane.ZY.offset(59.5)):
        with Locations((26.7, 4)):
            Circle(SKETCH_32_R)
    cut_extrude_19 = extrude(amount=-CUT_EXTRUDE_19_DEPTH, mode=Mode.SUBTRACT)

    # 草图33 → 切除-拉伸20 (cut)
    with BuildSketch(Plane(origin=(0, 20, 0), x_dir=(1, 0, 0), z_dir=(0, 1, 0))):
        with Locations(Location((-49.5, 20.918333206, 0), (0, 0, 270))):
            Circle(SKETCH_33_R)
        with Locations(Location((-49.5, -20.918333206, 0), (0, 0, 270))):
            Circle(SKETCH_33_R)
        with Locations(Location((49.5, 20.918333206, 0), (0, 0, 270))):
            Circle(SKETCH_33_R)
        with Locations(Location((49.5, -20.918333206, 0), (0, 0, 270))):
            Circle(SKETCH_33_R)
    extrude(amount=-CUT_EXTRUDE_20_DEPTH, mode=Mode.SUBTRACT)

    # 草图34 → 切除-拉伸22 (cut)
    with BuildSketch(Plane(origin=(0, 20, 0), x_dir=(1, 0, 0), z_dir=(0, 1, 0)).offset(CUT_EXTRUDE_START_2)):
        with BuildLine():
            Line((-42.442431599, 41.7), (-41.87982808, 41.7))
            ThreePointArc((-41.87982808, 41.7), (-59.1, 0), (-41.87982808, -41.7))
            Line((-41.87982808, -41.7), (-42.442431599, -41.7))
            ThreePointArc((-42.442431599, -41.7), (-59.5, 0), (-42.442431599, 41.7))
        make_face()
        with BuildLine():
            Line((41.87982808, -41.7), (42.442431599, -41.7))
            ThreePointArc((42.442431599, -41.7), (59.5, 0), (42.442431599, 41.7))
            Line((42.442431599, 41.7), (41.87982808, 41.7))
            ThreePointArc((41.87982808, 41.7), (59.1, 0), (41.87982808, -41.7))
        make_face()
    extrude(amount=CUT_EXTRUDE_22_DEPTH, mode=Mode.SUBTRACT)

    # 镜向1: 切除-拉伸19 across plane
    add(cut_extrude_19.mirror(Plane(origin=(0, 0, 0), x_dir=(0, 0, 1), z_dir=(1, 0, 0))), mode=Mode.SUBTRACT)

    # 草图37 → 切除-拉伸23 (cut)
    with BuildSketch(Plane(origin=(-2.468226957, 5.5, -11.643592384), x_dir=(1, 0, 0), z_dir=(0, 1, 0))):
        with BuildLine():
            Line((0.368226957, -0.643592384), (0.368226957, -4.339483951))
            ThreePointArc((0.368226957, -4.339483951), (2.468226957, -4.043592384), (4.568226957, -4.339483951))
            Line((4.568226957, -4.339483951), (4.568226957, -0.643592384))
            ThreePointArc((4.568226957, -0.643592384), (2.468226957, 1.456407616), (0.368226957, -0.643592384))
        make_face()
        with BuildLine():
            ThreePointArc((4.568226957, -6.643592384), (2.468226957, -8.743592384), (0.368226957, -6.643592384))
            Line((0.368226957, -6.643592384), (0.368226957, -4.339483951))
            ThreePointArc((0.368226957, -4.339483951), (-2.90578458, -6.269580847), (-4.835881476, -9.543592384))
            Line((-4.835881476, -9.543592384), (-2.531773043, -9.543592384))
            ThreePointArc((-2.531773043, -9.543592384), (-0.431773043, -11.643592384), (-2.531773043, -13.743592384))
            Line((-2.531773043, -13.743592384), (-4.835881476, -13.743592384))
            ThreePointArc((-4.835881476, -13.743592384), (-2.90578458, -17.017603921), (0.368226957, -18.947700817))
            Line((0.368226957, -18.947700817), (0.368226957, -16.643592384))
            ThreePointArc((0.368226957, -16.643592384), (2.468226957, -14.543592384), (4.568226957, -16.643592384))
            Line((4.568226957, -16.643592384), (4.568226957, -18.947700817))
            ThreePointArc((4.568226957, -18.947700817), (7.842238494, -17.017603921), (9.77233539, -13.743592384))
            Line((9.77233539, -13.743592384), (7.468226957, -13.743592384))
            ThreePointArc((7.468226957, -13.743592384), (5.368226957, -11.643592384), (7.468226957, -9.543592384))
            Line((7.468226957, -9.543592384), (9.77233539, -9.543592384))
            ThreePointArc((9.77233539, -9.543592384), (7.842238494, -6.269580847), (4.568226957, -4.339483951))
            Line((4.568226957, -4.339483951), (4.568226957, -6.643592384))
        make_face()
        with BuildLine():
            ThreePointArc((-4.835881476, -13.743592384), (-5.131773043, -11.643592384), (-4.835881476, -9.543592384))
            Line((-4.835881476, -9.543592384), (-8.531773043, -9.543592384))
            ThreePointArc((-8.531773043, -9.543592384), (-10.631773043, -11.643592384), (-8.531773043, -13.743592384))
            Line((-8.531773043, -13.743592384), (-4.835881476, -13.743592384))
        make_face()
        with BuildLine():
            ThreePointArc((4.568226957, -18.947700817), (2.468226957, -19.243592384), (0.368226957, -18.947700817))
            Line((0.368226957, -18.947700817), (0.368226957, -22.643592384))
            ThreePointArc((0.368226957, -22.643592384), (2.468226957, -24.743592384), (4.568226957, -22.643592384))
            Line((4.568226957, -22.643592384), (4.568226957, -18.947700817))
        make_face()
        with BuildLine():
            Line((13.468226957, -9.543592384), (9.77233539, -9.543592384))
            ThreePointArc((9.77233539, -9.543592384), (9.993890519, -10.583220773), (10.068226957, -11.643592384))
            ThreePointArc((10.068226957, -11.643592384), (9.993890519, -12.703963996), (9.77233539, -13.743592384))
            Line((9.77233539, -13.743592384), (13.468226957, -13.743592384))
            ThreePointArc((13.468226957, -13.743592384), (15.568226957, -11.643592384), (13.468226957, -9.543592384))
        make_face()
        with BuildLine():
            Line((0.368226957, -4.339483951), (0.368226957, -6.643592384))
            ThreePointArc((0.368226957, -6.643592384), (2.468226957, -8.743592384), (4.568226957, -6.643592384))
            Line((4.568226957, -6.643592384), (4.568226957, -4.339483951))
            ThreePointArc((4.568226957, -4.339483951), (2.468226957, -4.043592384), (0.368226957, -4.339483951))
        make_face()
        with BuildLine():
            Line((-2.531773043, -9.543592384), (-4.835881476, -9.543592384))
            ThreePointArc((-4.835881476, -9.543592384), (-5.131773043, -11.643592384), (-4.835881476, -13.743592384))
            Line((-4.835881476, -13.743592384), (-2.531773043, -13.743592384))
            ThreePointArc((-2.531773043, -13.743592384), (-0.431773043, -11.643592384), (-2.531773043, -9.543592384))
        make_face()
        with BuildLine():
            ThreePointArc((10.068226957, -11.643592384), (9.993890519, -10.583220773), (9.77233539, -9.543592384))
            Line((9.77233539, -9.543592384), (7.468226957, -9.543592384))
            ThreePointArc((7.468226957, -9.543592384), (5.368226957, -11.643592384), (7.468226957, -13.743592384))
            Line((7.468226957, -13.743592384), (9.77233539, -13.743592384))
            ThreePointArc((9.77233539, -13.743592384), (9.993890519, -12.703963996), (10.068226957, -11.643592384))
        make_face()
        with BuildLine():
            Line((0.368226957, -16.643592384), (0.368226957, -18.947700817))
            ThreePointArc((0.368226957, -18.947700817), (2.468226957, -19.243592384), (4.568226957, -18.947700817))
            Line((4.568226957, -18.947700817), (4.568226957, -16.643592384))
            ThreePointArc((4.568226957, -16.643592384), (2.468226957, -14.543592384), (0.368226957, -16.643592384))
        make_face()
    extrude(amount=-CUT_EXTRUDE_23_DEPTH, mode=Mode.SUBTRACT)

    # 圆角4
    fillet_4_edges = [part.edges().sort_by_distance(p)[0] for p in [
        (-7.304108433, 4.5, -2.1),
        (-2.1, 4.5, -7.304108433),
        (2.1, 4.5, -7.304108433),
        (7.304108433, 4.5, -2.1),
        (7.304108433, 4.5, 2.1),
        (2.1, 4.5, 7.304108433),
        (-2.1, 4.5, 7.304108433),
        (-7.304108433, 4.5, 2.1),
    ]]
    fillet(fillet_4_edges, radius=FILLET_4_R)

    # 草图38 → 切除-拉伸24 (cut, through all)
    with BuildSketch(Plane.XZ.offset(-1.2)):
        with Locations(Location((0, 0, 0), (0, 0, 270))):
            Circle(SKETCH_38_R)
    extrude(amount=-CUT_EXTRUDE_24_DEPTH, mode=Mode.SUBTRACT)

    # 草图39 → 切除-拉伸25 (cut, through all)
    with BuildSketch(Plane(origin=(0, 20, 0), x_dir=(1, 0, 0), z_dir=(0, 1, 0))):
        with BuildLine():
            Line((-42.442431599, 41.7), (-41.87982808, 41.7))
            ThreePointArc((-41.87982808, 41.7), (0, 59.1), (41.87982808, 41.7))
            Line((41.87982808, 41.7), (42.442431599, 41.7))
            ThreePointArc((42.442431599, 41.7), (0, 59.5), (-42.442431599, 41.7))
        make_face()
        with BuildLine():
            Line((-41.87982808, -41.7), (-42.442431599, -41.7))
            ThreePointArc((-42.442431599, -41.7), (0, -59.5), (42.442431599, -41.7))
            Line((42.442431599, -41.7), (41.87982808, -41.7))
            ThreePointArc((41.87982808, -41.7), (0, -59.1), (-41.87982808, -41.7))
        make_face()
    extrude(amount=-CUT_EXTRUDE_25_DEPTH, mode=Mode.SUBTRACT)


solid = part.part
